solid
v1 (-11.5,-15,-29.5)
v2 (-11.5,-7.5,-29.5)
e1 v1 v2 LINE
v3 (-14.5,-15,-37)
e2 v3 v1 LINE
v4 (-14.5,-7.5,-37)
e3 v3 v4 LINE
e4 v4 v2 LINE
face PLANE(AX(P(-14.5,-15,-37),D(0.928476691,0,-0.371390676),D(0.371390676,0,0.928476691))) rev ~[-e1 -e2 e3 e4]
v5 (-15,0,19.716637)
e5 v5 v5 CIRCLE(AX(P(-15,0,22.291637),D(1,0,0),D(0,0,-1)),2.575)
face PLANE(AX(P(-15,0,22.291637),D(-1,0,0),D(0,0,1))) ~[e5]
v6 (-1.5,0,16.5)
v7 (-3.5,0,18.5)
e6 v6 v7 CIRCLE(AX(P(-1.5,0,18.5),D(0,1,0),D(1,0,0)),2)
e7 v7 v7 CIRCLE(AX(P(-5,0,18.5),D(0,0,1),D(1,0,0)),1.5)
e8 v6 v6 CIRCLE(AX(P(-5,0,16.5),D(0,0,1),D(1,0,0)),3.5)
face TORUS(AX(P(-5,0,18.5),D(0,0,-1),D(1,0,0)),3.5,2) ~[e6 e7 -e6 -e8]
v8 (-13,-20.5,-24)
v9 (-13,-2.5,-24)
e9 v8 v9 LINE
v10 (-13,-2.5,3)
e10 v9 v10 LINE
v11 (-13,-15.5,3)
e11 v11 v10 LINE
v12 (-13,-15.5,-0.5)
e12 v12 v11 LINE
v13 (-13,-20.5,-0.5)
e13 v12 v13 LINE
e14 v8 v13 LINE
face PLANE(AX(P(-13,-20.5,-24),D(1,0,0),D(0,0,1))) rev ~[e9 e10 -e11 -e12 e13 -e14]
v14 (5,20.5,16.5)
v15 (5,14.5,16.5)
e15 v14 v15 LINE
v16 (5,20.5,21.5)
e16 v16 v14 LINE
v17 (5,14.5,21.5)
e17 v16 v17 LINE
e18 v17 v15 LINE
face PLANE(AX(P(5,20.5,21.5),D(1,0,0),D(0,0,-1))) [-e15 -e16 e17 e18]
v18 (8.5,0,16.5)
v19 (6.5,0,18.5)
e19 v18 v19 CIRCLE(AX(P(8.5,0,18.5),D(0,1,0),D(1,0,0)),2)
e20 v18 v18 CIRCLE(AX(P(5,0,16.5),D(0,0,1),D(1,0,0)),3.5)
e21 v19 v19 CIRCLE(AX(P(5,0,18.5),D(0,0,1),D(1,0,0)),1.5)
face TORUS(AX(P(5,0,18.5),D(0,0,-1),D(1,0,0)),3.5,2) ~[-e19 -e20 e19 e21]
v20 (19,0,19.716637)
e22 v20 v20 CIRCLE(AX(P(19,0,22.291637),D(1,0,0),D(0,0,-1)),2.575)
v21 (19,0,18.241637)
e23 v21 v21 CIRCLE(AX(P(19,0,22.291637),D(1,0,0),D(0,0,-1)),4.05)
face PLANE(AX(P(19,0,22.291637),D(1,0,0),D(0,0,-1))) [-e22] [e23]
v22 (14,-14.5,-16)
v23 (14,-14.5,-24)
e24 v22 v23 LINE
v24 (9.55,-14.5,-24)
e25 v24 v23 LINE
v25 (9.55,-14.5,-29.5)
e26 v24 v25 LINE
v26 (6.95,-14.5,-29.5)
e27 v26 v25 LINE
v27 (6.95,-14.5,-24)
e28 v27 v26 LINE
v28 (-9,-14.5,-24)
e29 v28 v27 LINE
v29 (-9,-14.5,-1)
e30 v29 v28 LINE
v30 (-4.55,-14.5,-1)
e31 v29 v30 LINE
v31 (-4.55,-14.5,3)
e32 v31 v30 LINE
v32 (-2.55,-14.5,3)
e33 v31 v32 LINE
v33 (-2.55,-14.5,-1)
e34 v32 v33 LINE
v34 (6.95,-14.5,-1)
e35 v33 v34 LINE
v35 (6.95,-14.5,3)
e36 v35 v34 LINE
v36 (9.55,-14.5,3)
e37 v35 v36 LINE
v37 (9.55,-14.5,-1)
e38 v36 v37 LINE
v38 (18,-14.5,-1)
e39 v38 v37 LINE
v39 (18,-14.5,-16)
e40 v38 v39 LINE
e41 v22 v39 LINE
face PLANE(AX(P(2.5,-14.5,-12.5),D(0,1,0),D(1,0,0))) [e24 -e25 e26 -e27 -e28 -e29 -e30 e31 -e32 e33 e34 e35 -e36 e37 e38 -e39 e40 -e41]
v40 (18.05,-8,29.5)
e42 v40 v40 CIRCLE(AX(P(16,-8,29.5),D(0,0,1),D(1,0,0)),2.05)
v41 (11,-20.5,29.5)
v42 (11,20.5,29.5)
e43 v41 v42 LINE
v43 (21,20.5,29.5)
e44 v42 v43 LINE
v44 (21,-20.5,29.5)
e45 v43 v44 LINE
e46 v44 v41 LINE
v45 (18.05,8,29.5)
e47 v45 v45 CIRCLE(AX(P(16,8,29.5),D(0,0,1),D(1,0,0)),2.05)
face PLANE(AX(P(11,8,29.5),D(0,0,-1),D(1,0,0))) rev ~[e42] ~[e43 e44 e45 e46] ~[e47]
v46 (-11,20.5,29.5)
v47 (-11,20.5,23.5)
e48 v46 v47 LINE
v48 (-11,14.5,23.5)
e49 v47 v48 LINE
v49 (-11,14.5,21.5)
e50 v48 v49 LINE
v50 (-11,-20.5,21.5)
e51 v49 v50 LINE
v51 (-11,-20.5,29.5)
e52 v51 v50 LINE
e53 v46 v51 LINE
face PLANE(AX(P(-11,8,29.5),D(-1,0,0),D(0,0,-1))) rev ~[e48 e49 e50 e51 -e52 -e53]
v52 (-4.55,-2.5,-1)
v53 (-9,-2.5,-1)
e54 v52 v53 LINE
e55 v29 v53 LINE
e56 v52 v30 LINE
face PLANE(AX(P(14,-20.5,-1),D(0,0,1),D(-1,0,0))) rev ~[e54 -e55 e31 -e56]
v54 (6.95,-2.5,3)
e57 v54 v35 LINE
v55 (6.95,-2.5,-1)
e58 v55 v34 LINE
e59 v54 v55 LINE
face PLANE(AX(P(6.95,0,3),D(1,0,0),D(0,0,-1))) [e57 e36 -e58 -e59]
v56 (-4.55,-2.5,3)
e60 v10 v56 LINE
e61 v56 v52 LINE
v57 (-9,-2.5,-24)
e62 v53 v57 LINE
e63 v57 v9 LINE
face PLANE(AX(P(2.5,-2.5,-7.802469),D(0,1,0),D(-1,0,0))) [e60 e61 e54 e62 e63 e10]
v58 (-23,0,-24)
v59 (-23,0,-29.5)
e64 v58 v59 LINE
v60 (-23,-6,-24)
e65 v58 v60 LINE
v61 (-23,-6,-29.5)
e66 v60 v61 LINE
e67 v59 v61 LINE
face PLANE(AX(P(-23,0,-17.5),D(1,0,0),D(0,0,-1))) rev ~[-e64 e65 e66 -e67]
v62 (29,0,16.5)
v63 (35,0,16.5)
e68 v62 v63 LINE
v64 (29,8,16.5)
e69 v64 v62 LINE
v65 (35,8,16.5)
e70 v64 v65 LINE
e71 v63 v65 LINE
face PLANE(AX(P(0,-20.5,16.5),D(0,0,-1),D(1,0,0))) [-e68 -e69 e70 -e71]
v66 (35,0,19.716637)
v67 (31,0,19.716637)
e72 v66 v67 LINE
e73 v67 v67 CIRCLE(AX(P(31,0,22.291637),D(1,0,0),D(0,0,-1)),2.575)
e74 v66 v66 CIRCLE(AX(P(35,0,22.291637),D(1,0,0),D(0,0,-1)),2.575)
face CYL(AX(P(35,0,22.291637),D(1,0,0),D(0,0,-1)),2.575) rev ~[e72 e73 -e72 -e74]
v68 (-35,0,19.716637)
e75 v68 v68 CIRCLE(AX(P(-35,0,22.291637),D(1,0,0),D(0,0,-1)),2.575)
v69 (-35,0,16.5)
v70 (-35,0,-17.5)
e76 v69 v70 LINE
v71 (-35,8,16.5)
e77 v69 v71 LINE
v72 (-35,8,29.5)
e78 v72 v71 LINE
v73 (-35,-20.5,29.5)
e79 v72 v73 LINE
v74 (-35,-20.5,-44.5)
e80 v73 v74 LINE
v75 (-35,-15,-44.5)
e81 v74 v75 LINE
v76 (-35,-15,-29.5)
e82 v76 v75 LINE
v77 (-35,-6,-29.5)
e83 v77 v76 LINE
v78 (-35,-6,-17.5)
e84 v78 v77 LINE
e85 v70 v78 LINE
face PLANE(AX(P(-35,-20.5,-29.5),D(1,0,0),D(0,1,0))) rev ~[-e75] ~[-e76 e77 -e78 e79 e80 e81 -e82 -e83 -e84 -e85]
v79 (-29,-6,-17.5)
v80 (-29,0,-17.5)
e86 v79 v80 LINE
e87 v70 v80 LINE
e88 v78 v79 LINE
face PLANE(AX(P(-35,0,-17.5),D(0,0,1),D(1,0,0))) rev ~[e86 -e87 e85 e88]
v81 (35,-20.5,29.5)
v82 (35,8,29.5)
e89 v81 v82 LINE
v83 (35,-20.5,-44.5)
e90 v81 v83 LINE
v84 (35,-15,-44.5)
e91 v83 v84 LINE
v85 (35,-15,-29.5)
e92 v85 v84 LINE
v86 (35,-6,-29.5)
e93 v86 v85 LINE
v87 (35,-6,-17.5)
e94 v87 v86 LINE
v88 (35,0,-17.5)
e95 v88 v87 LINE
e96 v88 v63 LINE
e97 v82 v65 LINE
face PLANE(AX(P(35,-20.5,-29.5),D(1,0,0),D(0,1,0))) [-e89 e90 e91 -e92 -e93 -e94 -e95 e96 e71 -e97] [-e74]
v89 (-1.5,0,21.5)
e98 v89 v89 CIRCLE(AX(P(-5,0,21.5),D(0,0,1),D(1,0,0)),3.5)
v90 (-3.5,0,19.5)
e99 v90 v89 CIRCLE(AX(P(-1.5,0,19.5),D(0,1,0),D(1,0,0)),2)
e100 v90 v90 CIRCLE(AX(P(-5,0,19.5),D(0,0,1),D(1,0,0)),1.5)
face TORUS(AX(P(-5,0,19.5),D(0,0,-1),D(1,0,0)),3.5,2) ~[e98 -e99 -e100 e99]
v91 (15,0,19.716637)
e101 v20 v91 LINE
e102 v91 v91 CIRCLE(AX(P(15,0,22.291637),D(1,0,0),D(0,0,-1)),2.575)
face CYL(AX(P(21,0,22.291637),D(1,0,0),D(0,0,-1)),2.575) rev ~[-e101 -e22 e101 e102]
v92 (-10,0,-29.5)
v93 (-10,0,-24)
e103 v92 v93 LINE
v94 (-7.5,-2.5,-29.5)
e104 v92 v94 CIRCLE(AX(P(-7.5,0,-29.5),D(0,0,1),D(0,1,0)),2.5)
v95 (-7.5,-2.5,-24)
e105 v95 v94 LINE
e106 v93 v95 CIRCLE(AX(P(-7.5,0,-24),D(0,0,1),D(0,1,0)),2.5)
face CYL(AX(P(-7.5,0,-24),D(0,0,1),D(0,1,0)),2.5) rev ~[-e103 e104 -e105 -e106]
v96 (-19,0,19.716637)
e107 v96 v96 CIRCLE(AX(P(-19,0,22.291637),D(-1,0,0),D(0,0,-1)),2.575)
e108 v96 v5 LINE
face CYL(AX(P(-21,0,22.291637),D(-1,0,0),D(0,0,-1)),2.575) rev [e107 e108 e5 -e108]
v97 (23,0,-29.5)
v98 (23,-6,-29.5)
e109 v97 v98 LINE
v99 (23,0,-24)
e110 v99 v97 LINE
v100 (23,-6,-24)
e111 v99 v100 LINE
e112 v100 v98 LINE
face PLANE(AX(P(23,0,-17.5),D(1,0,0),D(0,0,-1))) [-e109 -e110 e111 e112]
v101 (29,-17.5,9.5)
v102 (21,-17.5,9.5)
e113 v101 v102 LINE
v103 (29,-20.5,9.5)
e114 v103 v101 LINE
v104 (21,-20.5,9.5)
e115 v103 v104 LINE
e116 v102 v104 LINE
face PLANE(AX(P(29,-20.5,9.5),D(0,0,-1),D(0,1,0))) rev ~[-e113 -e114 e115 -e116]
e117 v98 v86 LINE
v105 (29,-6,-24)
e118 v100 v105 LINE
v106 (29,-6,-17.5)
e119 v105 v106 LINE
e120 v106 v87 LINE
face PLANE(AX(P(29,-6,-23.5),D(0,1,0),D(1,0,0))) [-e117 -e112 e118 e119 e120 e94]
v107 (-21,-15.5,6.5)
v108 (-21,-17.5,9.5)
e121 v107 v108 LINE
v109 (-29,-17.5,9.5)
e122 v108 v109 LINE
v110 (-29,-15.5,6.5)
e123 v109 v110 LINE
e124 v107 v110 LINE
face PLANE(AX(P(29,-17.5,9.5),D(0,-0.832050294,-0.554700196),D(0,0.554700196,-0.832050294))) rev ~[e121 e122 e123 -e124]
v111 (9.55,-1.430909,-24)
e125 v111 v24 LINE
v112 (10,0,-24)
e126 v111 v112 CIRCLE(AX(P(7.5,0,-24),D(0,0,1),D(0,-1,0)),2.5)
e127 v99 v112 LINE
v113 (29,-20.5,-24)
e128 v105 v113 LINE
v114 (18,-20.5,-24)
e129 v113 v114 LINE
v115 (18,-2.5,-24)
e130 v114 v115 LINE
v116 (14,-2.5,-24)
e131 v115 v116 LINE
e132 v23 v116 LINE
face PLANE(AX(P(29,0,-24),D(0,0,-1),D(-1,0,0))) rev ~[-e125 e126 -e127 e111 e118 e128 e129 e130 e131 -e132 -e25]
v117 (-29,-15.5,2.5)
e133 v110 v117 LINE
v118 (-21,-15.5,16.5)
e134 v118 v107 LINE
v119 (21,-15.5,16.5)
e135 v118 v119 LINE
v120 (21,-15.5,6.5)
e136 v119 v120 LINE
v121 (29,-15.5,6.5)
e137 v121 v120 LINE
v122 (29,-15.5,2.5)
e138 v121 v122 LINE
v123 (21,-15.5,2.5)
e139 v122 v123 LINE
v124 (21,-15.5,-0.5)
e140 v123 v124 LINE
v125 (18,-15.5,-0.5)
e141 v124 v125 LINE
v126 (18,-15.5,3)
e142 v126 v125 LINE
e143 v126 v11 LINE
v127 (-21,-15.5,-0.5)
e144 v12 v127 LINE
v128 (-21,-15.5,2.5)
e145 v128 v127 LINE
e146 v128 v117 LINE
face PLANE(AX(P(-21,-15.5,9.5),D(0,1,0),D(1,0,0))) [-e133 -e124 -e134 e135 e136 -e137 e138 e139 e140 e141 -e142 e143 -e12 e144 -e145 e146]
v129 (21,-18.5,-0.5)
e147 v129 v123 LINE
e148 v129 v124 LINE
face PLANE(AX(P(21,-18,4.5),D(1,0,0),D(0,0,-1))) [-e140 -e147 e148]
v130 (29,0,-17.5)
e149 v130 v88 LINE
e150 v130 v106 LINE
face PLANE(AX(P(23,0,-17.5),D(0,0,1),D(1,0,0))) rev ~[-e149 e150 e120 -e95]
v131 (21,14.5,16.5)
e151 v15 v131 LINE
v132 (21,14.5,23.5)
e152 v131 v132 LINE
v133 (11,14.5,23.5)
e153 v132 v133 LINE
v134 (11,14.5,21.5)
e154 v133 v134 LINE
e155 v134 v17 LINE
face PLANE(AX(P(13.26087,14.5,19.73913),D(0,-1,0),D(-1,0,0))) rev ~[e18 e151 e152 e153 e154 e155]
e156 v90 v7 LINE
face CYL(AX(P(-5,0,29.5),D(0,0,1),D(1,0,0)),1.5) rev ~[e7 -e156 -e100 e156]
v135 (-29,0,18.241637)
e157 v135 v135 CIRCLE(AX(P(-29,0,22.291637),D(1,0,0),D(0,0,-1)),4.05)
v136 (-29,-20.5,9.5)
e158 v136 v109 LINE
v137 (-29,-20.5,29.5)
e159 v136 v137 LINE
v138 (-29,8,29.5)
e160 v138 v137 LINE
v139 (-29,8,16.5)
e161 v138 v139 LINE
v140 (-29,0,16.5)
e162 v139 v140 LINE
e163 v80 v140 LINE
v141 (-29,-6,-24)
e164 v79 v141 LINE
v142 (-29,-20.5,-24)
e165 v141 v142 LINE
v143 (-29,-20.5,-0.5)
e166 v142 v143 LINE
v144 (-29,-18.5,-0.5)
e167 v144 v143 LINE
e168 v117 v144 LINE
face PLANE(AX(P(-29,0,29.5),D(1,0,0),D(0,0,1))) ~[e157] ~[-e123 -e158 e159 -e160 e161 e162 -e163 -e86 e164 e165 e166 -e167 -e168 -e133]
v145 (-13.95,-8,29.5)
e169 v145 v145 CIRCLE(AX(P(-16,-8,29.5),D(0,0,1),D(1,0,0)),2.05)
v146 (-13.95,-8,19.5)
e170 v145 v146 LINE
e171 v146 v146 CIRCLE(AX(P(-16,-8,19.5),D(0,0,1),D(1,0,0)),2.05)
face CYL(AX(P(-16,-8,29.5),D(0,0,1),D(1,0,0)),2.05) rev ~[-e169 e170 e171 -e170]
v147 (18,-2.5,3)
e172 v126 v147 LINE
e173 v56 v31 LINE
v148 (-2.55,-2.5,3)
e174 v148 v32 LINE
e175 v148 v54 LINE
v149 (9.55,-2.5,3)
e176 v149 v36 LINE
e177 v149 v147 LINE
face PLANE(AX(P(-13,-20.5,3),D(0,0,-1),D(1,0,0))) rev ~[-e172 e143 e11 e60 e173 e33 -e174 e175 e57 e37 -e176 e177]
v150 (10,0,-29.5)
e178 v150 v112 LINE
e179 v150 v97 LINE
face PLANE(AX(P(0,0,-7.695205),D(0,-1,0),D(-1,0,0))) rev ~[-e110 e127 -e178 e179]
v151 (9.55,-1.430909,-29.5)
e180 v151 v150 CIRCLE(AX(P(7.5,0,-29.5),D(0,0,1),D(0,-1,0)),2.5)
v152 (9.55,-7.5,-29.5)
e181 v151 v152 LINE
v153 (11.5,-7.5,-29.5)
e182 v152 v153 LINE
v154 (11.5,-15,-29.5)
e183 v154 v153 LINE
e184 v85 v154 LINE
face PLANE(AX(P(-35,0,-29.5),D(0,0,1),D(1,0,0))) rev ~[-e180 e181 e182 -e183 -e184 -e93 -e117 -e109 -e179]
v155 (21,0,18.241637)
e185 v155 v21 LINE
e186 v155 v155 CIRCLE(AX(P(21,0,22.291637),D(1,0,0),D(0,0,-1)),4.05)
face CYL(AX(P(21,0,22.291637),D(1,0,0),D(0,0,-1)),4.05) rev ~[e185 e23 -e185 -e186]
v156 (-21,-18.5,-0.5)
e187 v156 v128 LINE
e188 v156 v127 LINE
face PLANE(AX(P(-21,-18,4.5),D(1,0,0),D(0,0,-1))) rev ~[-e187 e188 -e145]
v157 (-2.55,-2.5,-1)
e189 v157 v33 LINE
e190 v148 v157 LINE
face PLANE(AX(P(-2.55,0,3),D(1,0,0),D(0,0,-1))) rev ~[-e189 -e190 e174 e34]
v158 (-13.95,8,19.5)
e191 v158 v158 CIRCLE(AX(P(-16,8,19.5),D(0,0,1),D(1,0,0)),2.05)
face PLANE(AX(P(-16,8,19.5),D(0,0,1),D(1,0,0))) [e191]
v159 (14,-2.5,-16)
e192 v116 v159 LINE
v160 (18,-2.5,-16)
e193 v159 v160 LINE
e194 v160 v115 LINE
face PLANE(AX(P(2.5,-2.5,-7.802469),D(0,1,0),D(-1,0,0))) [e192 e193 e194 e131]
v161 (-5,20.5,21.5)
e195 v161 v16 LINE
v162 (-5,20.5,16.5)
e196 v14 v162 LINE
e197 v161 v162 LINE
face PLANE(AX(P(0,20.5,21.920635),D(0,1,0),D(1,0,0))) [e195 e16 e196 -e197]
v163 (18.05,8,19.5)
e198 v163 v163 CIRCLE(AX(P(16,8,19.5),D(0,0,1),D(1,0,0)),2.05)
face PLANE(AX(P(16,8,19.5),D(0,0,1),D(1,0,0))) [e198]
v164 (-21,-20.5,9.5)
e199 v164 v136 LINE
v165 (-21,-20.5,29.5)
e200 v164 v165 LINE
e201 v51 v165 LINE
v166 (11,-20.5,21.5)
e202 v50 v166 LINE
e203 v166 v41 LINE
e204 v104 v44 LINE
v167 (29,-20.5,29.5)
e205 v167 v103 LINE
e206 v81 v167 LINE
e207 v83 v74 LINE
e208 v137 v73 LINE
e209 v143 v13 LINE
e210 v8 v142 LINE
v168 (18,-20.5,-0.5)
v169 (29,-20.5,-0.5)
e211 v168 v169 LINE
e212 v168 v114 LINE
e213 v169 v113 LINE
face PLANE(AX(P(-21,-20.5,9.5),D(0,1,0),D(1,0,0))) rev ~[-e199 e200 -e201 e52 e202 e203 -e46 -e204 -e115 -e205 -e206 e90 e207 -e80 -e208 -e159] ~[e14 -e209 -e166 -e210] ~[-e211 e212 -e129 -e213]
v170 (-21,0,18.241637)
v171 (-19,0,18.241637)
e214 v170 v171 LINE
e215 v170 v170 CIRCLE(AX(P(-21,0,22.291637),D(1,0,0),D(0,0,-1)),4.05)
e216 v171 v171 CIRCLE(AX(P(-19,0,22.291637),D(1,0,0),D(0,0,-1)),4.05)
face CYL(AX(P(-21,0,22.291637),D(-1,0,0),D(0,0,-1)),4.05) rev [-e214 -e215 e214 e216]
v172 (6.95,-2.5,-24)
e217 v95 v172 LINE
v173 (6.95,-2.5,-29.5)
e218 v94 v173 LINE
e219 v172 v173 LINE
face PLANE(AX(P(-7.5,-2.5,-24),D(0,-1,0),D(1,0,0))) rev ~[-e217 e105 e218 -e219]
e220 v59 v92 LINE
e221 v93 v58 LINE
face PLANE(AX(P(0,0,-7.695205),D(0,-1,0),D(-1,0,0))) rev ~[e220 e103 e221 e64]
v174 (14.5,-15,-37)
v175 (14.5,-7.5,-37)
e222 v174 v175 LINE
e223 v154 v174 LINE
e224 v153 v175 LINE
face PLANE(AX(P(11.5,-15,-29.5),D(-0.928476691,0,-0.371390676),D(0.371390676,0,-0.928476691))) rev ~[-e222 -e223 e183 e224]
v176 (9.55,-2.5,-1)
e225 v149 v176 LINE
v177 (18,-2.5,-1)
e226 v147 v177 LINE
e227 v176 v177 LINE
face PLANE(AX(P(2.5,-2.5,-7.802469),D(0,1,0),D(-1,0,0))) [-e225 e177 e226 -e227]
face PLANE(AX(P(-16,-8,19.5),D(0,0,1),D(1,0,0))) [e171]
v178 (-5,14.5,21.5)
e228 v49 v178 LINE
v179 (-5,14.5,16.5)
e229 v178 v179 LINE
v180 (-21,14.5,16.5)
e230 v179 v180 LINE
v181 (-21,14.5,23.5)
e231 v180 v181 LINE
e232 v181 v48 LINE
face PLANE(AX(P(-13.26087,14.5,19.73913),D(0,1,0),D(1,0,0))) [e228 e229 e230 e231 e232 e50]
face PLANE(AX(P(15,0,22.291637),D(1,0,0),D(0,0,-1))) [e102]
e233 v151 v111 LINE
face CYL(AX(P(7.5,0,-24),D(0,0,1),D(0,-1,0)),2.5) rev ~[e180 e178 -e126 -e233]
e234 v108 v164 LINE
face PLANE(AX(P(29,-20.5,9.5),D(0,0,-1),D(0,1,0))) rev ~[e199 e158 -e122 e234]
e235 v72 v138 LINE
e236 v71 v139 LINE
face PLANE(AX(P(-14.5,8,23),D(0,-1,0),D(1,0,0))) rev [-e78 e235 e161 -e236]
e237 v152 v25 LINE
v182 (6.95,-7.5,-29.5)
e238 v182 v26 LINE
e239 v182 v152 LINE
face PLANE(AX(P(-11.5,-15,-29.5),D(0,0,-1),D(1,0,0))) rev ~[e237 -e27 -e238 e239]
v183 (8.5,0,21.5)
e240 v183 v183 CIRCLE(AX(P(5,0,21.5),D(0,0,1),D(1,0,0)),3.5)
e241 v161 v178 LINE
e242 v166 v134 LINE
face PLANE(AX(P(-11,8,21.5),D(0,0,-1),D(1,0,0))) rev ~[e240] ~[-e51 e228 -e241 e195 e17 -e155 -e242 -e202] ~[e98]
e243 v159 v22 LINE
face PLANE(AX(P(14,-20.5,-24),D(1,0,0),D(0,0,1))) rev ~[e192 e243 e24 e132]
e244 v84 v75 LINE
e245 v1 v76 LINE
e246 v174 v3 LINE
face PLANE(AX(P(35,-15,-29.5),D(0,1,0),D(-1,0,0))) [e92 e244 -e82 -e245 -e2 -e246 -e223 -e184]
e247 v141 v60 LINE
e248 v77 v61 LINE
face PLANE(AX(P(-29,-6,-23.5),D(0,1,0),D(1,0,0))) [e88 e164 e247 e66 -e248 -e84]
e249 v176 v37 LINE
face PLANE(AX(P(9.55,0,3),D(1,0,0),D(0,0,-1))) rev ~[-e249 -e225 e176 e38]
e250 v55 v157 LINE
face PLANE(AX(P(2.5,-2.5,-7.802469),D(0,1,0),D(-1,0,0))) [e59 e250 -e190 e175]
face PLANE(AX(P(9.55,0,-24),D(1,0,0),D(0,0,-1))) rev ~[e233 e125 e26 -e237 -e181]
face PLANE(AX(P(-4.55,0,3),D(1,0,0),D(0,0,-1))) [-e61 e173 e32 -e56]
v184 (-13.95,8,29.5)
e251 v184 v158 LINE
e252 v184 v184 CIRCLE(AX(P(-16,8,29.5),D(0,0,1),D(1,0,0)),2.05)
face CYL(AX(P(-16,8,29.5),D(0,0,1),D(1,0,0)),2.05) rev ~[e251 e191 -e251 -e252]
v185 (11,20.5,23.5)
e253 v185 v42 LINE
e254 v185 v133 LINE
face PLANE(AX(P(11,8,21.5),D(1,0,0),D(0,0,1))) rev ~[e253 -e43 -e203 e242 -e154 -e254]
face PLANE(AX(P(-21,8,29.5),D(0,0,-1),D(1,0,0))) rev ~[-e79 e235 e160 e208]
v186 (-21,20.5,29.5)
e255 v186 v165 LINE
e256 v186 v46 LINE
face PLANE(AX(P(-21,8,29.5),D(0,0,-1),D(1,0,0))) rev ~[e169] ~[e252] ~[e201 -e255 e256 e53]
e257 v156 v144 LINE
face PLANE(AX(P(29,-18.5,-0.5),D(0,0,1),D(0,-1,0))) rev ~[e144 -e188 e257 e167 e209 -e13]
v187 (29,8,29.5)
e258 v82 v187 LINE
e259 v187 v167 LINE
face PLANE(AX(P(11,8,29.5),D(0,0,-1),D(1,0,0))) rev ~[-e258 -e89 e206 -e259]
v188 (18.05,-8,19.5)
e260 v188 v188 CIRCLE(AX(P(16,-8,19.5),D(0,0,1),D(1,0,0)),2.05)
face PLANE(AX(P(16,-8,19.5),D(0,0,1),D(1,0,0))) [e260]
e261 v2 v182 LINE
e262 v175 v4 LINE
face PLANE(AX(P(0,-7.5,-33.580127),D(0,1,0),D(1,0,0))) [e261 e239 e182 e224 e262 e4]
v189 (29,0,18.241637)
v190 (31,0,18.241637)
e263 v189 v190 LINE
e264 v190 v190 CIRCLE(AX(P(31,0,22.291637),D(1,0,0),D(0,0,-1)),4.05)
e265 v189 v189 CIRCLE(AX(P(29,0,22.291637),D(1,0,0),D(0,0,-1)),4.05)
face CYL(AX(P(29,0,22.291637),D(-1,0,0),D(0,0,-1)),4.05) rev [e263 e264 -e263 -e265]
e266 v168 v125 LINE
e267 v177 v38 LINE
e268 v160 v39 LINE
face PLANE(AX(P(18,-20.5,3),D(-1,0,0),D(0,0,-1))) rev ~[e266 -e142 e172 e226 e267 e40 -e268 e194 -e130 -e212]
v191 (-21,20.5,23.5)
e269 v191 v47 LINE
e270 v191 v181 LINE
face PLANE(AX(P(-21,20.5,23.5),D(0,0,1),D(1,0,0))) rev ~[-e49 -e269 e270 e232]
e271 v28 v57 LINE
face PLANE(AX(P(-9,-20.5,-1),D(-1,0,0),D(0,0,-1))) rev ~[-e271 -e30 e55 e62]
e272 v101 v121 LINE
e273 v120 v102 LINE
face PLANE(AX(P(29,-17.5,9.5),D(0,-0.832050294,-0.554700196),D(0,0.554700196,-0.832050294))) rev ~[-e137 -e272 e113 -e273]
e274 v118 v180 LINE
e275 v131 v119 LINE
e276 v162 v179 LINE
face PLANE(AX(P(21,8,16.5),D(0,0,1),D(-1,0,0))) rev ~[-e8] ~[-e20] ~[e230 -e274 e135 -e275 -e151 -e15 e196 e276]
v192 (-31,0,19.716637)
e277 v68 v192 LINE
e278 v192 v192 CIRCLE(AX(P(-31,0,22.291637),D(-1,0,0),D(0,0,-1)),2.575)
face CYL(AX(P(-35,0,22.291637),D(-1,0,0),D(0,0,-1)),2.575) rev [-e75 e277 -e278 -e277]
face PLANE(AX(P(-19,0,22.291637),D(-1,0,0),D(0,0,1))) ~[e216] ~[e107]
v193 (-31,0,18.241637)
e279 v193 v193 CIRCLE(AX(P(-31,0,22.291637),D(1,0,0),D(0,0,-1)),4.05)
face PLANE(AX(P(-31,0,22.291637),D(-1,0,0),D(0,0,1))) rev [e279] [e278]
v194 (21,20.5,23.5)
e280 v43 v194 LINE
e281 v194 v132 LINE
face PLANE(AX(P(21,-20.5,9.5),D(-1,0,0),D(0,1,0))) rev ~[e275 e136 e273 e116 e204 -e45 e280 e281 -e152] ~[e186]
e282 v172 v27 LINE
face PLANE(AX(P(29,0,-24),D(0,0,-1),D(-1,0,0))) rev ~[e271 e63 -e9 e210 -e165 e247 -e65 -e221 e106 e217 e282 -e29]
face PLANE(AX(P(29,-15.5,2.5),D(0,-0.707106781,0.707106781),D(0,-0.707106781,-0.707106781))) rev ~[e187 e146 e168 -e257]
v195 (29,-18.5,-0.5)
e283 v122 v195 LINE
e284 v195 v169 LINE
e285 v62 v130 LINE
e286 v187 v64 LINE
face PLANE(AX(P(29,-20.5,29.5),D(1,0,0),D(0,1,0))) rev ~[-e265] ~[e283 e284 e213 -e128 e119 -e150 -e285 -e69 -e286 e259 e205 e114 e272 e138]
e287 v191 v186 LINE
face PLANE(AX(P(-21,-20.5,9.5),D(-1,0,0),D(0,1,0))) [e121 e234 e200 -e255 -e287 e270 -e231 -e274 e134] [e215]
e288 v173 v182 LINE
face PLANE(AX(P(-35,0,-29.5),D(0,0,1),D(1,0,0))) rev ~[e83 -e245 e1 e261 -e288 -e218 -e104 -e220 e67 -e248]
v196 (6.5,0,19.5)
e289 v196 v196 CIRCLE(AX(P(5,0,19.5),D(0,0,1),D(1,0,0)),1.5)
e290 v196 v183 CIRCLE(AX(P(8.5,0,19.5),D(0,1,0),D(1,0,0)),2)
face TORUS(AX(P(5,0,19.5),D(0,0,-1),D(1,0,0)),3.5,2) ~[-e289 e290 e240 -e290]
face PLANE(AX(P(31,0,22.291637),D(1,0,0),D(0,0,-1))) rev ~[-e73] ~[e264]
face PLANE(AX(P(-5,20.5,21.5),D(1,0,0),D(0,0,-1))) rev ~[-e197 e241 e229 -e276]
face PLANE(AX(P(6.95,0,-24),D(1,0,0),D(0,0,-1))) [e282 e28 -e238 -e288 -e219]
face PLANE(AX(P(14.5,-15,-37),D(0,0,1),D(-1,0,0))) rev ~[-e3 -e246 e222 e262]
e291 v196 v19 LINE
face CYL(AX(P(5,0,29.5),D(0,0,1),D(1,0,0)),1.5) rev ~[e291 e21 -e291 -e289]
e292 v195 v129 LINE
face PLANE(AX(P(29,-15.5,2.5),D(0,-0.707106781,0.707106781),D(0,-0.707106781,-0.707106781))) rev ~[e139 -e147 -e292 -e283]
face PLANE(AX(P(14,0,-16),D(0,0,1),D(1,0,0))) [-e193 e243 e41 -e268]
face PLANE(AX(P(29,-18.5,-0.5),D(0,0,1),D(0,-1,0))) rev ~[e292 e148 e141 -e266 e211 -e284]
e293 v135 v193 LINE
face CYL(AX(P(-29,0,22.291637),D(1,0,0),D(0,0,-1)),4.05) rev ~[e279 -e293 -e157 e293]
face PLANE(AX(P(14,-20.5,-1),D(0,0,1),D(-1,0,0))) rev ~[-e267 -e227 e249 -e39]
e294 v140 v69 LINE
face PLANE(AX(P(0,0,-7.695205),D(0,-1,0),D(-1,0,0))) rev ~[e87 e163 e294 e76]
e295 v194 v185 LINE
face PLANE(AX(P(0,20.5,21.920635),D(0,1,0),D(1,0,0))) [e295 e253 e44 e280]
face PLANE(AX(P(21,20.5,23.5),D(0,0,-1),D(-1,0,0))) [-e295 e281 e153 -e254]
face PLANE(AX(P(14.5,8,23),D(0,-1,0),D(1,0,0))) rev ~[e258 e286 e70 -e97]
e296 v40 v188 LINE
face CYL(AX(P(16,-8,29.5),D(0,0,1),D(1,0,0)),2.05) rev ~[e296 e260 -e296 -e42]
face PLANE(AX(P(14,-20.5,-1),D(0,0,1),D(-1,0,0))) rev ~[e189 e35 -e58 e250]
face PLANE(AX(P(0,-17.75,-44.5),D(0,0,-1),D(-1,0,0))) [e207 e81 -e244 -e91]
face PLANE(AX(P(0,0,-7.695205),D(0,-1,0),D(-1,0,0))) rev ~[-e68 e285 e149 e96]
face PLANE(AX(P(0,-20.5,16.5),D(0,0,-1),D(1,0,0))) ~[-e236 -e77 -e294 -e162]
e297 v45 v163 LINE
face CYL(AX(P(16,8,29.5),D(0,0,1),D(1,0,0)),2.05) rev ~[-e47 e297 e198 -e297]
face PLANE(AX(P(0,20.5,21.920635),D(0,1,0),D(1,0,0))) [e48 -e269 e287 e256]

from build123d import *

# Parameters (mm, degrees)
BOSS_EXTRUDE1_DEPTH  = 20.5
SKETCH5_W            = 23
SKETCH5_H            = 23
BOSS_EXTRUDE3_DEPTH  = 6
BOSS_EXTRUDE6_DEPTH  = 18
SKETCH18_W           = 2.6
SKETCH18_H           = 4
SKETCH18_W_2         = 2
SKETCH18_W_3         = 4
SKETCH18_H_2         = 15
SKETCH18_H_3         = 5.5
CUT_EXTRUDE10_DEPTH  = 14.5
SKETCH8_W            = 6
SKETCH8_H            = 13
BOSS_EXTRUDE4_DEPTH  = 8
SKETCH7_R            = 2.575
CUT_EXTRUDE_X_DEPTH  = 6
SKETCH9_R            = 4.05
CUT_EXTRUDE4_DEPTH   = 2
SKETCH10_W           = 29
SKETCH10_H           = 13
BOSS_EXTRUDE5_DEPTH  = 28.5
SKETCH12_W           = 8
SKETCH12_H           = 13
CUT_EXTRUDE6_DEPTH   = 24
SKETCH13_R           = 2.575
CUT_EXTRUDE7_DEPTH   = 6
SKETCH14_R           = 4.05
CUT_EXTRUDE8_DEPTH   = 2
CUT_EXTRUDE21_REACH  = 61
SKETCH35_R           = 1.5
CUT_EXTRUDE22_REACH  = 30.5
FILLET1_R            = 2
BOSS_EXTRUDE7_DEPTH  = 12.5
SKETCH34_R           = 2.05
CUT_EXTRUDE20_DEPTH  = 10
SKETCH38_W           = 70
SKETCH38_H           = 5.5
BOSS_EXTRUDE8_DEPTH  = 15
BOSS_EXTRUDE9_DEPTH  = 7.5
CUT_EXTRUDE23_START  = -5.5
CUT_EXTRUDE23_DEPTH  = 5.5
BOSS_EXTRUDE10_DEPTH = 58
CUT_EXTRUDE24_REACH  = 76
SKETCH42_W           = 8
SKETCH42_H           = 4.5
BOSS_EXTRUDE11_START = -14
SKETCH43_W           = 10
SKETCH43_H           = 5
BOSS_EXTRUDE11_DEPTH = 42
BOSS_EXTRUDE12_REACH = 22
SKETCH44_W           = 42
SKETCH44_H           = 5
SKETCH45_W           = 12
SKETCH45_H           = 12
CUT_EXTRUDE25_DEPTH  = 6
CUT_EXTRUDE26_DEPTH  = 6


with BuildPart() as part:
    # Sketch1 → Boss-Extrude1 (new body)
    with BuildSketch(Plane(origin=(0, 0, 0), x_dir=(1, 0, 0), z_dir=(0, 1, 0))):
        Polygon((-29, 24), (-29, -29.5), (-35, -29.5), (-35, 29.5), (35, 29.5), (35, -29.5), (29, -29.5), (29, 24), align=None)
    extrude(amount=-BOSS_EXTRUDE1_DEPTH)



with BuildPart() as body_2:
    # Sketch5 → Boss-Extrude3 (new body)
    with BuildSketch(Plane(origin=(0, -20.5, 0), x_dir=(1, 0, 0), z_dir=(0, 1, 0))):
        with Locations((2.5, 12.5)):
            Rectangle(SKETCH5_W, SKETCH5_H)
    extrude(amount=BOSS_EXTRUDE3_DEPTH)


with BuildPart() as part_1:
    add(part.part)

    add(body_2.part)  # Boss-Extrude6 merges body 2
    # Sketch16 → Boss-Extrude6 (add)
    with BuildSketch(Plane.XZ.offset(20.5)):
        Polygon((18, -24), (14, -24), (14, -1), (-9, -1), (-9, -24), (-13, -24), (-13, 3), (18, 3), align=None)
    extrude(amount=-BOSS_EXTRUDE6_DEPTH)

    # Sketch18 → Cut-Extrude10 (cut)
    with BuildSketch(Plane(origin=(0, 0, 0), x_dir=(1, 0, 0), z_dir=(0, 1, 0))):
        with Locations((8.25, -1)):
            Rectangle(SKETCH18_W, SKETCH18_H)
        with Locations((-3.55, -1)):
            Rectangle(SKETCH18_W_2, SKETCH18_H)
        with Locations((16, 8.5)):
            Rectangle(SKETCH18_W_3, SKETCH18_H_2)
        with Locations((8.25, 26.75)):
            Rectangle(SKETCH18_W, SKETCH18_H_3)
    extrude(amount=-CUT_EXTRUDE10_DEPTH, mode=Mode.SUBTRACT)

    # Sketch8 → Boss-Extrude4 (add)
    with BuildSketch(Plane(origin=(0, 0, 0), x_dir=(1, 0, 0), z_dir=(0, 1, 0))):
        with Locations((32, -23)):
            Rectangle(SKETCH8_W, SKETCH8_H)
    boss_extrude4 = extrude(amount=BOSS_EXTRUDE4_DEPTH)

    # Sketch7 → Cut-Extrude x (cut)
    with BuildSketch(Plane(origin=(35, 0, 0), x_dir=(0, 0, -1), z_dir=(1, 0, 0))):
        with Locations((-22.291637032, 0)):
            Circle(SKETCH7_R)
    cut_extrude_x = extrude(amount=-CUT_EXTRUDE_X_DEPTH, mode=Mode.SUBTRACT)

    # Sketch9 → Cut-Extrude4 (cut)
    with BuildSketch(Plane(origin=(29, 0, 0), x_dir=(0, 0, -1), z_dir=(1, 0, 0))):
        with Locations((-22.291637032, 0)):
            Circle(SKETCH9_R)
    cut_extrude4 = extrude(amount=CUT_EXTRUDE4_DEPTH, mode=Mode.SUBTRACT)

    # Sketch10 → Boss-Extrude5 (add)
    with BuildSketch(Plane.XZ.offset(20.5)):
        with Locations((14.5, 23)):
            Rectangle(SKETCH10_W, SKETCH10_H)
    boss_extrude5 = extrude(amount=-BOSS_EXTRUDE5_DEPTH)

    # Sketch12 → Cut-Extrude6 (cut)
    with BuildSketch(Plane(origin=(0, 8, 0), x_dir=(1, 0, 0), z_dir=(0, 1, 0))):
        with Locations((25, -23)):
            Rectangle(SKETCH12_W, SKETCH12_H)
    cut_extrude6 = extrude(amount=-CUT_EXTRUDE6_DEPTH, mode=Mode.SUBTRACT)

    # Sketch13 → Cut-Extrude7 (cut)
    with BuildSketch(Plane(origin=(21, 0, 0), x_dir=(0, 0, -1), z_dir=(1, 0, 0))):
        with Locations((-22.291637032, 0)):
            Circle(SKETCH13_R)
    cut_extrude7 = extrude(amount=-CUT_EXTRUDE7_DEPTH, mode=Mode.SUBTRACT)

    # Sketch14 → Cut-Extrude8 (cut)
    with BuildSketch(Plane(origin=(21, 0, 0), x_dir=(0, 0, -1), z_dir=(1, 0, 0))):
        with Locations((-22.291637032, 0)):
            Circle(SKETCH14_R)
    cut_extrude8 = extrude(amount=-CUT_EXTRUDE8_DEPTH, mode=Mode.SUBTRACT)

    # Mirror1: Boss-Extrude4, Cut-Extrude x, Cut-Extrude4, Boss-Extrude5, Cut-Extrude6, Cut-Extrude7, Cut-Extrude8 across plane
    add(boss_extrude4.mirror(Plane(origin=(0, 0, 0), x_dir=(0, 0, 1), z_dir=(1, 0, 0))))
    add(cut_extrude_x.mirror(Plane(origin=(0, 0, 0), x_dir=(0, 0, 1), z_dir=(1, 0, 0))), mode=Mode.SUBTRACT)
    add(cut_extrude4.mirror(Plane(origin=(0, 0, 0), x_dir=(0, 0, 1), z_dir=(1, 0, 0))), mode=Mode.SUBTRACT)
    add(boss_extrude5.mirror(Plane(origin=(0, 0, 0), x_dir=(0, 0, 1), z_dir=(1, 0, 0))))
    add(cut_extrude6.mirror(Plane(origin=(0, 0, 0), x_dir=(0, 0, 1), z_dir=(1, 0, 0))), mode=Mode.SUBTRACT)
    add(cut_extrude7.mirror(Plane(origin=(0, 0, 0), x_dir=(0, 0, 1), z_dir=(1, 0, 0))), mode=Mode.SUBTRACT)
    add(cut_extrude8.mirror(Plane(origin=(0, 0, 0), x_dir=(0, 0, 1), z_dir=(1, 0, 0))), mode=Mode.SUBTRACT)

    # Sketch35 → Cut-Extrude21 (cut, up to next)
    with BuildSketch(Plane.XY.offset(29.5), mode=Mode.PRIVATE) as cut_extrude21_sk1:
        with Locations((-5, 0)):
            Circle(SKETCH35_R)
    cut_extrude21_tool1 = extrude(cut_extrude21_sk1.sketch, amount=-CUT_EXTRUDE21_REACH, mode=Mode.PRIVATE) & part_1.part
    add(cut_extrude21_tool1.solids().sort_by_distance((-5, 0, 29.5))[0], mode=Mode.SUBTRACT)
    # Sketch35 → Cut-Extrude21 (cut, up to next)
    with BuildSketch(Plane.XY.offset(29.5), mode=Mode.PRIVATE) as cut_extrude21_sk2:
        with Locations((5, 0)):
            Circle(SKETCH35_R)
    cut_extrude21_tool2 = extrude(cut_extrude21_sk2.sketch, amount=-CUT_EXTRUDE21_REACH, mode=Mode.PRIVATE) & part_1.part
    add(cut_extrude21_tool2.solids().sort_by_distance((5, 0, 29.5))[0], mode=Mode.SUBTRACT)

    # Sketch36 → Cut-Extrude22 (cut, up to next)
    with BuildSketch(Plane(origin=(0, 8, 0), x_dir=(1, 0, 0), z_dir=(0, 1, 0)), mode=Mode.PRIVATE) as cut_extrude22_sk1:
        Polygon((-5, -29.5), (5, -29.5), (11, -29.5), (11, -21.5), (-11, -21.5), (-11, -29.5), align=None)
    cut_extrude22_tool1 = extrude(cut_extrude22_sk1.sketch, amount=-CUT_EXTRUDE22_REACH, mode=Mode.PRIVATE) & part_1.part
    add(cut_extrude22_tool1.solids().sort_by_distance((0, 8, 25.5))[0], mode=Mode.SUBTRACT)

    # Fillet1
    fillet1_edges = [part_1.edges().sort_by_distance(p)[0] for p in [
        (-6.5, 0, 16.5),
        (3.5, 0, 16.5),
        (-6.5, 0, 21.5),
        (3.5, 0, 21.5),
    ]]
    fillet(fillet1_edges, radius=FILLET1_R)

    # Sketch37 → Boss-Extrude7 (add)
    with BuildSketch(Plane(origin=(0, 8, 0), x_dir=(1, 0, 0), z_dir=(0, 1, 0))):
        Polygon((-11, -21.5), (11, -21.5), (11, -29.5), (21, -29.5), (21, -16.5), (-21, -16.5), (-21, -29.5), (-11, -29.5), align=None)
    extrude(amount=BOSS_EXTRUDE7_DEPTH)

    # Sketch34 → Cut-Extrude20 (cut)
    with BuildSketch(Plane.XY.offset(29.5)):
        with Locations((16, -8)):
            Circle(SKETCH34_R)
        with Locations((16, 8)):
            Circle(SKETCH34_R)
        with Locations((-16, 8)):
            Circle(SKETCH34_R)
        with Locations((-16, -8)):
            Circle(SKETCH34_R)
    extrude(amount=-CUT_EXTRUDE20_DEPTH, mode=Mode.SUBTRACT)

    # Sketch38 → Boss-Extrude8 (add)
    with BuildSketch(Plane(origin=(0, 0, -29.5), x_dir=(-1, 0, 0), z_dir=(0, 0, -1))):
        with Locations((0, -17.75)):
            Rectangle(SKETCH38_W, SKETCH38_H)
    extrude(amount=BOSS_EXTRUDE8_DEPTH)

    # Sketch39 → Boss-Extrude9 (add)
    with BuildSketch(Plane(origin=(0, -15, 0), x_dir=(1, 0, 0), z_dir=(0, 1, 0))):
        Polygon((11.5, 29.5), (14.5, 37), (-14.5, 37), (-11.5, 29.5), align=None)
    extrude(amount=BOSS_EXTRUDE9_DEPTH)

    # Sketch40 → Cut-Extrude23 (cut)
    with BuildSketch(Plane(origin=(0, 0, -29.5), x_dir=(-1, 0, 0), z_dir=(0, 0, -1)).offset(CUT_EXTRUDE23_START)):
        with BuildLine():
            Line((-7.5, 2.5), (7.5, 2.5))
            ThreePointArc((7.5, 2.5), (10, 0), (7.5, -2.5))
            Line((7.5, -2.5), (-7.5, -2.5))
            ThreePointArc((-7.5, -2.5), (-10, 0), (-7.5, 2.5))
        make_face()
    extrude(amount=CUT_EXTRUDE23_DEPTH, mode=Mode.SUBTRACT)

    # Sketch41 → Boss-Extrude10 (add)
    with BuildSketch(Plane.ZY.offset(-29)):
        Polygon((-0.5, -20.5), (9.5, -20.5), (9.5, -17.5), (6.5, -15.5), (2.5, -15.5), (-0.5, -18.5), align=None)
    extrude(amount=BOSS_EXTRUDE10_DEPTH)

    # Sketch42 → Cut-Extrude24 (cut, up to next)
    with BuildSketch(Plane.XY.offset(29.5), mode=Mode.PRIVATE) as cut_extrude24_sk1:
        with Locations((25, -18.25)):
            Rectangle(SKETCH42_W, SKETCH42_H)
    cut_extrude24_tool1 = extrude(cut_extrude24_sk1.sketch, amount=-CUT_EXTRUDE24_REACH, mode=Mode.PRIVATE) & part_1.part
    add(cut_extrude24_tool1.solids().sort_by_distance((25, -18.25, 29.5))[0], mode=Mode.SUBTRACT)
    # Sketch42 → Cut-Extrude24 (cut, up to next)
    with BuildSketch(Plane.XY.offset(29.5), mode=Mode.PRIVATE) as cut_extrude24_sk2:
        with Locations((-25, -18.25)):
            Rectangle(SKETCH42_W, SKETCH42_H)
    cut_extrude24_tool2 = extrude(cut_extrude24_sk2.sketch, amount=-CUT_EXTRUDE24_REACH, mode=Mode.PRIVATE) & part_1.part
    add(cut_extrude24_tool2.solids().sort_by_distance((-25, -18.25, 29.5))[0], mode=Mode.SUBTRACT)

    # Sketch43 → Boss-Extrude11 (add)
    with BuildSketch(Plane(origin=(35, 0, 0), x_dir=(0, 0, -1), z_dir=(1, 0, 0)).offset(BOSS_EXTRUDE11_START)):
        with Locations((-4.5, -18)):
            Rectangle(SKETCH43_W, SKETCH43_H)
    extrude(amount=-BOSS_EXTRUDE11_DEPTH)

    # Sketch44 → Boss-Extrude12 (add, up to next)
    with BuildSketch(Plane.XY.offset(9.5), mode=Mode.PRIVATE) as boss_extrude12_sk1:
        with Locations((0, -18)):
            Rectangle(SKETCH44_W, SKETCH44_H)
    boss_extrude12_tool1 = extrude(boss_extrude12_sk1.sketch, amount=BOSS_EXTRUDE12_REACH, mode=Mode.PRIVATE) - part_1.part
    add(boss_extrude12_tool1.solids().sort_by_distance((0, -18, 9.5))[0])

    # Sketch45 → Cut-Extrude25 (cut)
    with BuildSketch(Plane(origin=(0, 0, 0), x_dir=(1, 0, 0), z_dir=(0, 1, 0))):
        with Locations((29, 23.5)):
            Rectangle(SKETCH45_W, SKETCH45_H)
        with Locations((-29, 23.5)):
            Rectangle(SKETCH45_W, SKETCH45_H)
    extrude(amount=-CUT_EXTRUDE25_DEPTH, mode=Mode.SUBTRACT)

    # Sketch46 → Cut-Extrude26 (cut)
    with BuildSketch(Plane(origin=(0, 20.5, 0), x_dir=(1, 0, 0), z_dir=(0, 1, 0))):
        Polygon((-5, -21.5), (-5, -16.5), (-21, -16.5), (-21, -23.5), (-11, -23.5), (-11, -21.5), align=None)
        Polygon((5, -21.5), (5, -16.5), (21, -16.5), (21, -23.5), (11, -23.5), (11, -21.5), align=None)
    extrude(amount=-CUT_EXTRUDE26_DEPTH, mode=Mode.SUBTRACT)


solid = part_1.part
